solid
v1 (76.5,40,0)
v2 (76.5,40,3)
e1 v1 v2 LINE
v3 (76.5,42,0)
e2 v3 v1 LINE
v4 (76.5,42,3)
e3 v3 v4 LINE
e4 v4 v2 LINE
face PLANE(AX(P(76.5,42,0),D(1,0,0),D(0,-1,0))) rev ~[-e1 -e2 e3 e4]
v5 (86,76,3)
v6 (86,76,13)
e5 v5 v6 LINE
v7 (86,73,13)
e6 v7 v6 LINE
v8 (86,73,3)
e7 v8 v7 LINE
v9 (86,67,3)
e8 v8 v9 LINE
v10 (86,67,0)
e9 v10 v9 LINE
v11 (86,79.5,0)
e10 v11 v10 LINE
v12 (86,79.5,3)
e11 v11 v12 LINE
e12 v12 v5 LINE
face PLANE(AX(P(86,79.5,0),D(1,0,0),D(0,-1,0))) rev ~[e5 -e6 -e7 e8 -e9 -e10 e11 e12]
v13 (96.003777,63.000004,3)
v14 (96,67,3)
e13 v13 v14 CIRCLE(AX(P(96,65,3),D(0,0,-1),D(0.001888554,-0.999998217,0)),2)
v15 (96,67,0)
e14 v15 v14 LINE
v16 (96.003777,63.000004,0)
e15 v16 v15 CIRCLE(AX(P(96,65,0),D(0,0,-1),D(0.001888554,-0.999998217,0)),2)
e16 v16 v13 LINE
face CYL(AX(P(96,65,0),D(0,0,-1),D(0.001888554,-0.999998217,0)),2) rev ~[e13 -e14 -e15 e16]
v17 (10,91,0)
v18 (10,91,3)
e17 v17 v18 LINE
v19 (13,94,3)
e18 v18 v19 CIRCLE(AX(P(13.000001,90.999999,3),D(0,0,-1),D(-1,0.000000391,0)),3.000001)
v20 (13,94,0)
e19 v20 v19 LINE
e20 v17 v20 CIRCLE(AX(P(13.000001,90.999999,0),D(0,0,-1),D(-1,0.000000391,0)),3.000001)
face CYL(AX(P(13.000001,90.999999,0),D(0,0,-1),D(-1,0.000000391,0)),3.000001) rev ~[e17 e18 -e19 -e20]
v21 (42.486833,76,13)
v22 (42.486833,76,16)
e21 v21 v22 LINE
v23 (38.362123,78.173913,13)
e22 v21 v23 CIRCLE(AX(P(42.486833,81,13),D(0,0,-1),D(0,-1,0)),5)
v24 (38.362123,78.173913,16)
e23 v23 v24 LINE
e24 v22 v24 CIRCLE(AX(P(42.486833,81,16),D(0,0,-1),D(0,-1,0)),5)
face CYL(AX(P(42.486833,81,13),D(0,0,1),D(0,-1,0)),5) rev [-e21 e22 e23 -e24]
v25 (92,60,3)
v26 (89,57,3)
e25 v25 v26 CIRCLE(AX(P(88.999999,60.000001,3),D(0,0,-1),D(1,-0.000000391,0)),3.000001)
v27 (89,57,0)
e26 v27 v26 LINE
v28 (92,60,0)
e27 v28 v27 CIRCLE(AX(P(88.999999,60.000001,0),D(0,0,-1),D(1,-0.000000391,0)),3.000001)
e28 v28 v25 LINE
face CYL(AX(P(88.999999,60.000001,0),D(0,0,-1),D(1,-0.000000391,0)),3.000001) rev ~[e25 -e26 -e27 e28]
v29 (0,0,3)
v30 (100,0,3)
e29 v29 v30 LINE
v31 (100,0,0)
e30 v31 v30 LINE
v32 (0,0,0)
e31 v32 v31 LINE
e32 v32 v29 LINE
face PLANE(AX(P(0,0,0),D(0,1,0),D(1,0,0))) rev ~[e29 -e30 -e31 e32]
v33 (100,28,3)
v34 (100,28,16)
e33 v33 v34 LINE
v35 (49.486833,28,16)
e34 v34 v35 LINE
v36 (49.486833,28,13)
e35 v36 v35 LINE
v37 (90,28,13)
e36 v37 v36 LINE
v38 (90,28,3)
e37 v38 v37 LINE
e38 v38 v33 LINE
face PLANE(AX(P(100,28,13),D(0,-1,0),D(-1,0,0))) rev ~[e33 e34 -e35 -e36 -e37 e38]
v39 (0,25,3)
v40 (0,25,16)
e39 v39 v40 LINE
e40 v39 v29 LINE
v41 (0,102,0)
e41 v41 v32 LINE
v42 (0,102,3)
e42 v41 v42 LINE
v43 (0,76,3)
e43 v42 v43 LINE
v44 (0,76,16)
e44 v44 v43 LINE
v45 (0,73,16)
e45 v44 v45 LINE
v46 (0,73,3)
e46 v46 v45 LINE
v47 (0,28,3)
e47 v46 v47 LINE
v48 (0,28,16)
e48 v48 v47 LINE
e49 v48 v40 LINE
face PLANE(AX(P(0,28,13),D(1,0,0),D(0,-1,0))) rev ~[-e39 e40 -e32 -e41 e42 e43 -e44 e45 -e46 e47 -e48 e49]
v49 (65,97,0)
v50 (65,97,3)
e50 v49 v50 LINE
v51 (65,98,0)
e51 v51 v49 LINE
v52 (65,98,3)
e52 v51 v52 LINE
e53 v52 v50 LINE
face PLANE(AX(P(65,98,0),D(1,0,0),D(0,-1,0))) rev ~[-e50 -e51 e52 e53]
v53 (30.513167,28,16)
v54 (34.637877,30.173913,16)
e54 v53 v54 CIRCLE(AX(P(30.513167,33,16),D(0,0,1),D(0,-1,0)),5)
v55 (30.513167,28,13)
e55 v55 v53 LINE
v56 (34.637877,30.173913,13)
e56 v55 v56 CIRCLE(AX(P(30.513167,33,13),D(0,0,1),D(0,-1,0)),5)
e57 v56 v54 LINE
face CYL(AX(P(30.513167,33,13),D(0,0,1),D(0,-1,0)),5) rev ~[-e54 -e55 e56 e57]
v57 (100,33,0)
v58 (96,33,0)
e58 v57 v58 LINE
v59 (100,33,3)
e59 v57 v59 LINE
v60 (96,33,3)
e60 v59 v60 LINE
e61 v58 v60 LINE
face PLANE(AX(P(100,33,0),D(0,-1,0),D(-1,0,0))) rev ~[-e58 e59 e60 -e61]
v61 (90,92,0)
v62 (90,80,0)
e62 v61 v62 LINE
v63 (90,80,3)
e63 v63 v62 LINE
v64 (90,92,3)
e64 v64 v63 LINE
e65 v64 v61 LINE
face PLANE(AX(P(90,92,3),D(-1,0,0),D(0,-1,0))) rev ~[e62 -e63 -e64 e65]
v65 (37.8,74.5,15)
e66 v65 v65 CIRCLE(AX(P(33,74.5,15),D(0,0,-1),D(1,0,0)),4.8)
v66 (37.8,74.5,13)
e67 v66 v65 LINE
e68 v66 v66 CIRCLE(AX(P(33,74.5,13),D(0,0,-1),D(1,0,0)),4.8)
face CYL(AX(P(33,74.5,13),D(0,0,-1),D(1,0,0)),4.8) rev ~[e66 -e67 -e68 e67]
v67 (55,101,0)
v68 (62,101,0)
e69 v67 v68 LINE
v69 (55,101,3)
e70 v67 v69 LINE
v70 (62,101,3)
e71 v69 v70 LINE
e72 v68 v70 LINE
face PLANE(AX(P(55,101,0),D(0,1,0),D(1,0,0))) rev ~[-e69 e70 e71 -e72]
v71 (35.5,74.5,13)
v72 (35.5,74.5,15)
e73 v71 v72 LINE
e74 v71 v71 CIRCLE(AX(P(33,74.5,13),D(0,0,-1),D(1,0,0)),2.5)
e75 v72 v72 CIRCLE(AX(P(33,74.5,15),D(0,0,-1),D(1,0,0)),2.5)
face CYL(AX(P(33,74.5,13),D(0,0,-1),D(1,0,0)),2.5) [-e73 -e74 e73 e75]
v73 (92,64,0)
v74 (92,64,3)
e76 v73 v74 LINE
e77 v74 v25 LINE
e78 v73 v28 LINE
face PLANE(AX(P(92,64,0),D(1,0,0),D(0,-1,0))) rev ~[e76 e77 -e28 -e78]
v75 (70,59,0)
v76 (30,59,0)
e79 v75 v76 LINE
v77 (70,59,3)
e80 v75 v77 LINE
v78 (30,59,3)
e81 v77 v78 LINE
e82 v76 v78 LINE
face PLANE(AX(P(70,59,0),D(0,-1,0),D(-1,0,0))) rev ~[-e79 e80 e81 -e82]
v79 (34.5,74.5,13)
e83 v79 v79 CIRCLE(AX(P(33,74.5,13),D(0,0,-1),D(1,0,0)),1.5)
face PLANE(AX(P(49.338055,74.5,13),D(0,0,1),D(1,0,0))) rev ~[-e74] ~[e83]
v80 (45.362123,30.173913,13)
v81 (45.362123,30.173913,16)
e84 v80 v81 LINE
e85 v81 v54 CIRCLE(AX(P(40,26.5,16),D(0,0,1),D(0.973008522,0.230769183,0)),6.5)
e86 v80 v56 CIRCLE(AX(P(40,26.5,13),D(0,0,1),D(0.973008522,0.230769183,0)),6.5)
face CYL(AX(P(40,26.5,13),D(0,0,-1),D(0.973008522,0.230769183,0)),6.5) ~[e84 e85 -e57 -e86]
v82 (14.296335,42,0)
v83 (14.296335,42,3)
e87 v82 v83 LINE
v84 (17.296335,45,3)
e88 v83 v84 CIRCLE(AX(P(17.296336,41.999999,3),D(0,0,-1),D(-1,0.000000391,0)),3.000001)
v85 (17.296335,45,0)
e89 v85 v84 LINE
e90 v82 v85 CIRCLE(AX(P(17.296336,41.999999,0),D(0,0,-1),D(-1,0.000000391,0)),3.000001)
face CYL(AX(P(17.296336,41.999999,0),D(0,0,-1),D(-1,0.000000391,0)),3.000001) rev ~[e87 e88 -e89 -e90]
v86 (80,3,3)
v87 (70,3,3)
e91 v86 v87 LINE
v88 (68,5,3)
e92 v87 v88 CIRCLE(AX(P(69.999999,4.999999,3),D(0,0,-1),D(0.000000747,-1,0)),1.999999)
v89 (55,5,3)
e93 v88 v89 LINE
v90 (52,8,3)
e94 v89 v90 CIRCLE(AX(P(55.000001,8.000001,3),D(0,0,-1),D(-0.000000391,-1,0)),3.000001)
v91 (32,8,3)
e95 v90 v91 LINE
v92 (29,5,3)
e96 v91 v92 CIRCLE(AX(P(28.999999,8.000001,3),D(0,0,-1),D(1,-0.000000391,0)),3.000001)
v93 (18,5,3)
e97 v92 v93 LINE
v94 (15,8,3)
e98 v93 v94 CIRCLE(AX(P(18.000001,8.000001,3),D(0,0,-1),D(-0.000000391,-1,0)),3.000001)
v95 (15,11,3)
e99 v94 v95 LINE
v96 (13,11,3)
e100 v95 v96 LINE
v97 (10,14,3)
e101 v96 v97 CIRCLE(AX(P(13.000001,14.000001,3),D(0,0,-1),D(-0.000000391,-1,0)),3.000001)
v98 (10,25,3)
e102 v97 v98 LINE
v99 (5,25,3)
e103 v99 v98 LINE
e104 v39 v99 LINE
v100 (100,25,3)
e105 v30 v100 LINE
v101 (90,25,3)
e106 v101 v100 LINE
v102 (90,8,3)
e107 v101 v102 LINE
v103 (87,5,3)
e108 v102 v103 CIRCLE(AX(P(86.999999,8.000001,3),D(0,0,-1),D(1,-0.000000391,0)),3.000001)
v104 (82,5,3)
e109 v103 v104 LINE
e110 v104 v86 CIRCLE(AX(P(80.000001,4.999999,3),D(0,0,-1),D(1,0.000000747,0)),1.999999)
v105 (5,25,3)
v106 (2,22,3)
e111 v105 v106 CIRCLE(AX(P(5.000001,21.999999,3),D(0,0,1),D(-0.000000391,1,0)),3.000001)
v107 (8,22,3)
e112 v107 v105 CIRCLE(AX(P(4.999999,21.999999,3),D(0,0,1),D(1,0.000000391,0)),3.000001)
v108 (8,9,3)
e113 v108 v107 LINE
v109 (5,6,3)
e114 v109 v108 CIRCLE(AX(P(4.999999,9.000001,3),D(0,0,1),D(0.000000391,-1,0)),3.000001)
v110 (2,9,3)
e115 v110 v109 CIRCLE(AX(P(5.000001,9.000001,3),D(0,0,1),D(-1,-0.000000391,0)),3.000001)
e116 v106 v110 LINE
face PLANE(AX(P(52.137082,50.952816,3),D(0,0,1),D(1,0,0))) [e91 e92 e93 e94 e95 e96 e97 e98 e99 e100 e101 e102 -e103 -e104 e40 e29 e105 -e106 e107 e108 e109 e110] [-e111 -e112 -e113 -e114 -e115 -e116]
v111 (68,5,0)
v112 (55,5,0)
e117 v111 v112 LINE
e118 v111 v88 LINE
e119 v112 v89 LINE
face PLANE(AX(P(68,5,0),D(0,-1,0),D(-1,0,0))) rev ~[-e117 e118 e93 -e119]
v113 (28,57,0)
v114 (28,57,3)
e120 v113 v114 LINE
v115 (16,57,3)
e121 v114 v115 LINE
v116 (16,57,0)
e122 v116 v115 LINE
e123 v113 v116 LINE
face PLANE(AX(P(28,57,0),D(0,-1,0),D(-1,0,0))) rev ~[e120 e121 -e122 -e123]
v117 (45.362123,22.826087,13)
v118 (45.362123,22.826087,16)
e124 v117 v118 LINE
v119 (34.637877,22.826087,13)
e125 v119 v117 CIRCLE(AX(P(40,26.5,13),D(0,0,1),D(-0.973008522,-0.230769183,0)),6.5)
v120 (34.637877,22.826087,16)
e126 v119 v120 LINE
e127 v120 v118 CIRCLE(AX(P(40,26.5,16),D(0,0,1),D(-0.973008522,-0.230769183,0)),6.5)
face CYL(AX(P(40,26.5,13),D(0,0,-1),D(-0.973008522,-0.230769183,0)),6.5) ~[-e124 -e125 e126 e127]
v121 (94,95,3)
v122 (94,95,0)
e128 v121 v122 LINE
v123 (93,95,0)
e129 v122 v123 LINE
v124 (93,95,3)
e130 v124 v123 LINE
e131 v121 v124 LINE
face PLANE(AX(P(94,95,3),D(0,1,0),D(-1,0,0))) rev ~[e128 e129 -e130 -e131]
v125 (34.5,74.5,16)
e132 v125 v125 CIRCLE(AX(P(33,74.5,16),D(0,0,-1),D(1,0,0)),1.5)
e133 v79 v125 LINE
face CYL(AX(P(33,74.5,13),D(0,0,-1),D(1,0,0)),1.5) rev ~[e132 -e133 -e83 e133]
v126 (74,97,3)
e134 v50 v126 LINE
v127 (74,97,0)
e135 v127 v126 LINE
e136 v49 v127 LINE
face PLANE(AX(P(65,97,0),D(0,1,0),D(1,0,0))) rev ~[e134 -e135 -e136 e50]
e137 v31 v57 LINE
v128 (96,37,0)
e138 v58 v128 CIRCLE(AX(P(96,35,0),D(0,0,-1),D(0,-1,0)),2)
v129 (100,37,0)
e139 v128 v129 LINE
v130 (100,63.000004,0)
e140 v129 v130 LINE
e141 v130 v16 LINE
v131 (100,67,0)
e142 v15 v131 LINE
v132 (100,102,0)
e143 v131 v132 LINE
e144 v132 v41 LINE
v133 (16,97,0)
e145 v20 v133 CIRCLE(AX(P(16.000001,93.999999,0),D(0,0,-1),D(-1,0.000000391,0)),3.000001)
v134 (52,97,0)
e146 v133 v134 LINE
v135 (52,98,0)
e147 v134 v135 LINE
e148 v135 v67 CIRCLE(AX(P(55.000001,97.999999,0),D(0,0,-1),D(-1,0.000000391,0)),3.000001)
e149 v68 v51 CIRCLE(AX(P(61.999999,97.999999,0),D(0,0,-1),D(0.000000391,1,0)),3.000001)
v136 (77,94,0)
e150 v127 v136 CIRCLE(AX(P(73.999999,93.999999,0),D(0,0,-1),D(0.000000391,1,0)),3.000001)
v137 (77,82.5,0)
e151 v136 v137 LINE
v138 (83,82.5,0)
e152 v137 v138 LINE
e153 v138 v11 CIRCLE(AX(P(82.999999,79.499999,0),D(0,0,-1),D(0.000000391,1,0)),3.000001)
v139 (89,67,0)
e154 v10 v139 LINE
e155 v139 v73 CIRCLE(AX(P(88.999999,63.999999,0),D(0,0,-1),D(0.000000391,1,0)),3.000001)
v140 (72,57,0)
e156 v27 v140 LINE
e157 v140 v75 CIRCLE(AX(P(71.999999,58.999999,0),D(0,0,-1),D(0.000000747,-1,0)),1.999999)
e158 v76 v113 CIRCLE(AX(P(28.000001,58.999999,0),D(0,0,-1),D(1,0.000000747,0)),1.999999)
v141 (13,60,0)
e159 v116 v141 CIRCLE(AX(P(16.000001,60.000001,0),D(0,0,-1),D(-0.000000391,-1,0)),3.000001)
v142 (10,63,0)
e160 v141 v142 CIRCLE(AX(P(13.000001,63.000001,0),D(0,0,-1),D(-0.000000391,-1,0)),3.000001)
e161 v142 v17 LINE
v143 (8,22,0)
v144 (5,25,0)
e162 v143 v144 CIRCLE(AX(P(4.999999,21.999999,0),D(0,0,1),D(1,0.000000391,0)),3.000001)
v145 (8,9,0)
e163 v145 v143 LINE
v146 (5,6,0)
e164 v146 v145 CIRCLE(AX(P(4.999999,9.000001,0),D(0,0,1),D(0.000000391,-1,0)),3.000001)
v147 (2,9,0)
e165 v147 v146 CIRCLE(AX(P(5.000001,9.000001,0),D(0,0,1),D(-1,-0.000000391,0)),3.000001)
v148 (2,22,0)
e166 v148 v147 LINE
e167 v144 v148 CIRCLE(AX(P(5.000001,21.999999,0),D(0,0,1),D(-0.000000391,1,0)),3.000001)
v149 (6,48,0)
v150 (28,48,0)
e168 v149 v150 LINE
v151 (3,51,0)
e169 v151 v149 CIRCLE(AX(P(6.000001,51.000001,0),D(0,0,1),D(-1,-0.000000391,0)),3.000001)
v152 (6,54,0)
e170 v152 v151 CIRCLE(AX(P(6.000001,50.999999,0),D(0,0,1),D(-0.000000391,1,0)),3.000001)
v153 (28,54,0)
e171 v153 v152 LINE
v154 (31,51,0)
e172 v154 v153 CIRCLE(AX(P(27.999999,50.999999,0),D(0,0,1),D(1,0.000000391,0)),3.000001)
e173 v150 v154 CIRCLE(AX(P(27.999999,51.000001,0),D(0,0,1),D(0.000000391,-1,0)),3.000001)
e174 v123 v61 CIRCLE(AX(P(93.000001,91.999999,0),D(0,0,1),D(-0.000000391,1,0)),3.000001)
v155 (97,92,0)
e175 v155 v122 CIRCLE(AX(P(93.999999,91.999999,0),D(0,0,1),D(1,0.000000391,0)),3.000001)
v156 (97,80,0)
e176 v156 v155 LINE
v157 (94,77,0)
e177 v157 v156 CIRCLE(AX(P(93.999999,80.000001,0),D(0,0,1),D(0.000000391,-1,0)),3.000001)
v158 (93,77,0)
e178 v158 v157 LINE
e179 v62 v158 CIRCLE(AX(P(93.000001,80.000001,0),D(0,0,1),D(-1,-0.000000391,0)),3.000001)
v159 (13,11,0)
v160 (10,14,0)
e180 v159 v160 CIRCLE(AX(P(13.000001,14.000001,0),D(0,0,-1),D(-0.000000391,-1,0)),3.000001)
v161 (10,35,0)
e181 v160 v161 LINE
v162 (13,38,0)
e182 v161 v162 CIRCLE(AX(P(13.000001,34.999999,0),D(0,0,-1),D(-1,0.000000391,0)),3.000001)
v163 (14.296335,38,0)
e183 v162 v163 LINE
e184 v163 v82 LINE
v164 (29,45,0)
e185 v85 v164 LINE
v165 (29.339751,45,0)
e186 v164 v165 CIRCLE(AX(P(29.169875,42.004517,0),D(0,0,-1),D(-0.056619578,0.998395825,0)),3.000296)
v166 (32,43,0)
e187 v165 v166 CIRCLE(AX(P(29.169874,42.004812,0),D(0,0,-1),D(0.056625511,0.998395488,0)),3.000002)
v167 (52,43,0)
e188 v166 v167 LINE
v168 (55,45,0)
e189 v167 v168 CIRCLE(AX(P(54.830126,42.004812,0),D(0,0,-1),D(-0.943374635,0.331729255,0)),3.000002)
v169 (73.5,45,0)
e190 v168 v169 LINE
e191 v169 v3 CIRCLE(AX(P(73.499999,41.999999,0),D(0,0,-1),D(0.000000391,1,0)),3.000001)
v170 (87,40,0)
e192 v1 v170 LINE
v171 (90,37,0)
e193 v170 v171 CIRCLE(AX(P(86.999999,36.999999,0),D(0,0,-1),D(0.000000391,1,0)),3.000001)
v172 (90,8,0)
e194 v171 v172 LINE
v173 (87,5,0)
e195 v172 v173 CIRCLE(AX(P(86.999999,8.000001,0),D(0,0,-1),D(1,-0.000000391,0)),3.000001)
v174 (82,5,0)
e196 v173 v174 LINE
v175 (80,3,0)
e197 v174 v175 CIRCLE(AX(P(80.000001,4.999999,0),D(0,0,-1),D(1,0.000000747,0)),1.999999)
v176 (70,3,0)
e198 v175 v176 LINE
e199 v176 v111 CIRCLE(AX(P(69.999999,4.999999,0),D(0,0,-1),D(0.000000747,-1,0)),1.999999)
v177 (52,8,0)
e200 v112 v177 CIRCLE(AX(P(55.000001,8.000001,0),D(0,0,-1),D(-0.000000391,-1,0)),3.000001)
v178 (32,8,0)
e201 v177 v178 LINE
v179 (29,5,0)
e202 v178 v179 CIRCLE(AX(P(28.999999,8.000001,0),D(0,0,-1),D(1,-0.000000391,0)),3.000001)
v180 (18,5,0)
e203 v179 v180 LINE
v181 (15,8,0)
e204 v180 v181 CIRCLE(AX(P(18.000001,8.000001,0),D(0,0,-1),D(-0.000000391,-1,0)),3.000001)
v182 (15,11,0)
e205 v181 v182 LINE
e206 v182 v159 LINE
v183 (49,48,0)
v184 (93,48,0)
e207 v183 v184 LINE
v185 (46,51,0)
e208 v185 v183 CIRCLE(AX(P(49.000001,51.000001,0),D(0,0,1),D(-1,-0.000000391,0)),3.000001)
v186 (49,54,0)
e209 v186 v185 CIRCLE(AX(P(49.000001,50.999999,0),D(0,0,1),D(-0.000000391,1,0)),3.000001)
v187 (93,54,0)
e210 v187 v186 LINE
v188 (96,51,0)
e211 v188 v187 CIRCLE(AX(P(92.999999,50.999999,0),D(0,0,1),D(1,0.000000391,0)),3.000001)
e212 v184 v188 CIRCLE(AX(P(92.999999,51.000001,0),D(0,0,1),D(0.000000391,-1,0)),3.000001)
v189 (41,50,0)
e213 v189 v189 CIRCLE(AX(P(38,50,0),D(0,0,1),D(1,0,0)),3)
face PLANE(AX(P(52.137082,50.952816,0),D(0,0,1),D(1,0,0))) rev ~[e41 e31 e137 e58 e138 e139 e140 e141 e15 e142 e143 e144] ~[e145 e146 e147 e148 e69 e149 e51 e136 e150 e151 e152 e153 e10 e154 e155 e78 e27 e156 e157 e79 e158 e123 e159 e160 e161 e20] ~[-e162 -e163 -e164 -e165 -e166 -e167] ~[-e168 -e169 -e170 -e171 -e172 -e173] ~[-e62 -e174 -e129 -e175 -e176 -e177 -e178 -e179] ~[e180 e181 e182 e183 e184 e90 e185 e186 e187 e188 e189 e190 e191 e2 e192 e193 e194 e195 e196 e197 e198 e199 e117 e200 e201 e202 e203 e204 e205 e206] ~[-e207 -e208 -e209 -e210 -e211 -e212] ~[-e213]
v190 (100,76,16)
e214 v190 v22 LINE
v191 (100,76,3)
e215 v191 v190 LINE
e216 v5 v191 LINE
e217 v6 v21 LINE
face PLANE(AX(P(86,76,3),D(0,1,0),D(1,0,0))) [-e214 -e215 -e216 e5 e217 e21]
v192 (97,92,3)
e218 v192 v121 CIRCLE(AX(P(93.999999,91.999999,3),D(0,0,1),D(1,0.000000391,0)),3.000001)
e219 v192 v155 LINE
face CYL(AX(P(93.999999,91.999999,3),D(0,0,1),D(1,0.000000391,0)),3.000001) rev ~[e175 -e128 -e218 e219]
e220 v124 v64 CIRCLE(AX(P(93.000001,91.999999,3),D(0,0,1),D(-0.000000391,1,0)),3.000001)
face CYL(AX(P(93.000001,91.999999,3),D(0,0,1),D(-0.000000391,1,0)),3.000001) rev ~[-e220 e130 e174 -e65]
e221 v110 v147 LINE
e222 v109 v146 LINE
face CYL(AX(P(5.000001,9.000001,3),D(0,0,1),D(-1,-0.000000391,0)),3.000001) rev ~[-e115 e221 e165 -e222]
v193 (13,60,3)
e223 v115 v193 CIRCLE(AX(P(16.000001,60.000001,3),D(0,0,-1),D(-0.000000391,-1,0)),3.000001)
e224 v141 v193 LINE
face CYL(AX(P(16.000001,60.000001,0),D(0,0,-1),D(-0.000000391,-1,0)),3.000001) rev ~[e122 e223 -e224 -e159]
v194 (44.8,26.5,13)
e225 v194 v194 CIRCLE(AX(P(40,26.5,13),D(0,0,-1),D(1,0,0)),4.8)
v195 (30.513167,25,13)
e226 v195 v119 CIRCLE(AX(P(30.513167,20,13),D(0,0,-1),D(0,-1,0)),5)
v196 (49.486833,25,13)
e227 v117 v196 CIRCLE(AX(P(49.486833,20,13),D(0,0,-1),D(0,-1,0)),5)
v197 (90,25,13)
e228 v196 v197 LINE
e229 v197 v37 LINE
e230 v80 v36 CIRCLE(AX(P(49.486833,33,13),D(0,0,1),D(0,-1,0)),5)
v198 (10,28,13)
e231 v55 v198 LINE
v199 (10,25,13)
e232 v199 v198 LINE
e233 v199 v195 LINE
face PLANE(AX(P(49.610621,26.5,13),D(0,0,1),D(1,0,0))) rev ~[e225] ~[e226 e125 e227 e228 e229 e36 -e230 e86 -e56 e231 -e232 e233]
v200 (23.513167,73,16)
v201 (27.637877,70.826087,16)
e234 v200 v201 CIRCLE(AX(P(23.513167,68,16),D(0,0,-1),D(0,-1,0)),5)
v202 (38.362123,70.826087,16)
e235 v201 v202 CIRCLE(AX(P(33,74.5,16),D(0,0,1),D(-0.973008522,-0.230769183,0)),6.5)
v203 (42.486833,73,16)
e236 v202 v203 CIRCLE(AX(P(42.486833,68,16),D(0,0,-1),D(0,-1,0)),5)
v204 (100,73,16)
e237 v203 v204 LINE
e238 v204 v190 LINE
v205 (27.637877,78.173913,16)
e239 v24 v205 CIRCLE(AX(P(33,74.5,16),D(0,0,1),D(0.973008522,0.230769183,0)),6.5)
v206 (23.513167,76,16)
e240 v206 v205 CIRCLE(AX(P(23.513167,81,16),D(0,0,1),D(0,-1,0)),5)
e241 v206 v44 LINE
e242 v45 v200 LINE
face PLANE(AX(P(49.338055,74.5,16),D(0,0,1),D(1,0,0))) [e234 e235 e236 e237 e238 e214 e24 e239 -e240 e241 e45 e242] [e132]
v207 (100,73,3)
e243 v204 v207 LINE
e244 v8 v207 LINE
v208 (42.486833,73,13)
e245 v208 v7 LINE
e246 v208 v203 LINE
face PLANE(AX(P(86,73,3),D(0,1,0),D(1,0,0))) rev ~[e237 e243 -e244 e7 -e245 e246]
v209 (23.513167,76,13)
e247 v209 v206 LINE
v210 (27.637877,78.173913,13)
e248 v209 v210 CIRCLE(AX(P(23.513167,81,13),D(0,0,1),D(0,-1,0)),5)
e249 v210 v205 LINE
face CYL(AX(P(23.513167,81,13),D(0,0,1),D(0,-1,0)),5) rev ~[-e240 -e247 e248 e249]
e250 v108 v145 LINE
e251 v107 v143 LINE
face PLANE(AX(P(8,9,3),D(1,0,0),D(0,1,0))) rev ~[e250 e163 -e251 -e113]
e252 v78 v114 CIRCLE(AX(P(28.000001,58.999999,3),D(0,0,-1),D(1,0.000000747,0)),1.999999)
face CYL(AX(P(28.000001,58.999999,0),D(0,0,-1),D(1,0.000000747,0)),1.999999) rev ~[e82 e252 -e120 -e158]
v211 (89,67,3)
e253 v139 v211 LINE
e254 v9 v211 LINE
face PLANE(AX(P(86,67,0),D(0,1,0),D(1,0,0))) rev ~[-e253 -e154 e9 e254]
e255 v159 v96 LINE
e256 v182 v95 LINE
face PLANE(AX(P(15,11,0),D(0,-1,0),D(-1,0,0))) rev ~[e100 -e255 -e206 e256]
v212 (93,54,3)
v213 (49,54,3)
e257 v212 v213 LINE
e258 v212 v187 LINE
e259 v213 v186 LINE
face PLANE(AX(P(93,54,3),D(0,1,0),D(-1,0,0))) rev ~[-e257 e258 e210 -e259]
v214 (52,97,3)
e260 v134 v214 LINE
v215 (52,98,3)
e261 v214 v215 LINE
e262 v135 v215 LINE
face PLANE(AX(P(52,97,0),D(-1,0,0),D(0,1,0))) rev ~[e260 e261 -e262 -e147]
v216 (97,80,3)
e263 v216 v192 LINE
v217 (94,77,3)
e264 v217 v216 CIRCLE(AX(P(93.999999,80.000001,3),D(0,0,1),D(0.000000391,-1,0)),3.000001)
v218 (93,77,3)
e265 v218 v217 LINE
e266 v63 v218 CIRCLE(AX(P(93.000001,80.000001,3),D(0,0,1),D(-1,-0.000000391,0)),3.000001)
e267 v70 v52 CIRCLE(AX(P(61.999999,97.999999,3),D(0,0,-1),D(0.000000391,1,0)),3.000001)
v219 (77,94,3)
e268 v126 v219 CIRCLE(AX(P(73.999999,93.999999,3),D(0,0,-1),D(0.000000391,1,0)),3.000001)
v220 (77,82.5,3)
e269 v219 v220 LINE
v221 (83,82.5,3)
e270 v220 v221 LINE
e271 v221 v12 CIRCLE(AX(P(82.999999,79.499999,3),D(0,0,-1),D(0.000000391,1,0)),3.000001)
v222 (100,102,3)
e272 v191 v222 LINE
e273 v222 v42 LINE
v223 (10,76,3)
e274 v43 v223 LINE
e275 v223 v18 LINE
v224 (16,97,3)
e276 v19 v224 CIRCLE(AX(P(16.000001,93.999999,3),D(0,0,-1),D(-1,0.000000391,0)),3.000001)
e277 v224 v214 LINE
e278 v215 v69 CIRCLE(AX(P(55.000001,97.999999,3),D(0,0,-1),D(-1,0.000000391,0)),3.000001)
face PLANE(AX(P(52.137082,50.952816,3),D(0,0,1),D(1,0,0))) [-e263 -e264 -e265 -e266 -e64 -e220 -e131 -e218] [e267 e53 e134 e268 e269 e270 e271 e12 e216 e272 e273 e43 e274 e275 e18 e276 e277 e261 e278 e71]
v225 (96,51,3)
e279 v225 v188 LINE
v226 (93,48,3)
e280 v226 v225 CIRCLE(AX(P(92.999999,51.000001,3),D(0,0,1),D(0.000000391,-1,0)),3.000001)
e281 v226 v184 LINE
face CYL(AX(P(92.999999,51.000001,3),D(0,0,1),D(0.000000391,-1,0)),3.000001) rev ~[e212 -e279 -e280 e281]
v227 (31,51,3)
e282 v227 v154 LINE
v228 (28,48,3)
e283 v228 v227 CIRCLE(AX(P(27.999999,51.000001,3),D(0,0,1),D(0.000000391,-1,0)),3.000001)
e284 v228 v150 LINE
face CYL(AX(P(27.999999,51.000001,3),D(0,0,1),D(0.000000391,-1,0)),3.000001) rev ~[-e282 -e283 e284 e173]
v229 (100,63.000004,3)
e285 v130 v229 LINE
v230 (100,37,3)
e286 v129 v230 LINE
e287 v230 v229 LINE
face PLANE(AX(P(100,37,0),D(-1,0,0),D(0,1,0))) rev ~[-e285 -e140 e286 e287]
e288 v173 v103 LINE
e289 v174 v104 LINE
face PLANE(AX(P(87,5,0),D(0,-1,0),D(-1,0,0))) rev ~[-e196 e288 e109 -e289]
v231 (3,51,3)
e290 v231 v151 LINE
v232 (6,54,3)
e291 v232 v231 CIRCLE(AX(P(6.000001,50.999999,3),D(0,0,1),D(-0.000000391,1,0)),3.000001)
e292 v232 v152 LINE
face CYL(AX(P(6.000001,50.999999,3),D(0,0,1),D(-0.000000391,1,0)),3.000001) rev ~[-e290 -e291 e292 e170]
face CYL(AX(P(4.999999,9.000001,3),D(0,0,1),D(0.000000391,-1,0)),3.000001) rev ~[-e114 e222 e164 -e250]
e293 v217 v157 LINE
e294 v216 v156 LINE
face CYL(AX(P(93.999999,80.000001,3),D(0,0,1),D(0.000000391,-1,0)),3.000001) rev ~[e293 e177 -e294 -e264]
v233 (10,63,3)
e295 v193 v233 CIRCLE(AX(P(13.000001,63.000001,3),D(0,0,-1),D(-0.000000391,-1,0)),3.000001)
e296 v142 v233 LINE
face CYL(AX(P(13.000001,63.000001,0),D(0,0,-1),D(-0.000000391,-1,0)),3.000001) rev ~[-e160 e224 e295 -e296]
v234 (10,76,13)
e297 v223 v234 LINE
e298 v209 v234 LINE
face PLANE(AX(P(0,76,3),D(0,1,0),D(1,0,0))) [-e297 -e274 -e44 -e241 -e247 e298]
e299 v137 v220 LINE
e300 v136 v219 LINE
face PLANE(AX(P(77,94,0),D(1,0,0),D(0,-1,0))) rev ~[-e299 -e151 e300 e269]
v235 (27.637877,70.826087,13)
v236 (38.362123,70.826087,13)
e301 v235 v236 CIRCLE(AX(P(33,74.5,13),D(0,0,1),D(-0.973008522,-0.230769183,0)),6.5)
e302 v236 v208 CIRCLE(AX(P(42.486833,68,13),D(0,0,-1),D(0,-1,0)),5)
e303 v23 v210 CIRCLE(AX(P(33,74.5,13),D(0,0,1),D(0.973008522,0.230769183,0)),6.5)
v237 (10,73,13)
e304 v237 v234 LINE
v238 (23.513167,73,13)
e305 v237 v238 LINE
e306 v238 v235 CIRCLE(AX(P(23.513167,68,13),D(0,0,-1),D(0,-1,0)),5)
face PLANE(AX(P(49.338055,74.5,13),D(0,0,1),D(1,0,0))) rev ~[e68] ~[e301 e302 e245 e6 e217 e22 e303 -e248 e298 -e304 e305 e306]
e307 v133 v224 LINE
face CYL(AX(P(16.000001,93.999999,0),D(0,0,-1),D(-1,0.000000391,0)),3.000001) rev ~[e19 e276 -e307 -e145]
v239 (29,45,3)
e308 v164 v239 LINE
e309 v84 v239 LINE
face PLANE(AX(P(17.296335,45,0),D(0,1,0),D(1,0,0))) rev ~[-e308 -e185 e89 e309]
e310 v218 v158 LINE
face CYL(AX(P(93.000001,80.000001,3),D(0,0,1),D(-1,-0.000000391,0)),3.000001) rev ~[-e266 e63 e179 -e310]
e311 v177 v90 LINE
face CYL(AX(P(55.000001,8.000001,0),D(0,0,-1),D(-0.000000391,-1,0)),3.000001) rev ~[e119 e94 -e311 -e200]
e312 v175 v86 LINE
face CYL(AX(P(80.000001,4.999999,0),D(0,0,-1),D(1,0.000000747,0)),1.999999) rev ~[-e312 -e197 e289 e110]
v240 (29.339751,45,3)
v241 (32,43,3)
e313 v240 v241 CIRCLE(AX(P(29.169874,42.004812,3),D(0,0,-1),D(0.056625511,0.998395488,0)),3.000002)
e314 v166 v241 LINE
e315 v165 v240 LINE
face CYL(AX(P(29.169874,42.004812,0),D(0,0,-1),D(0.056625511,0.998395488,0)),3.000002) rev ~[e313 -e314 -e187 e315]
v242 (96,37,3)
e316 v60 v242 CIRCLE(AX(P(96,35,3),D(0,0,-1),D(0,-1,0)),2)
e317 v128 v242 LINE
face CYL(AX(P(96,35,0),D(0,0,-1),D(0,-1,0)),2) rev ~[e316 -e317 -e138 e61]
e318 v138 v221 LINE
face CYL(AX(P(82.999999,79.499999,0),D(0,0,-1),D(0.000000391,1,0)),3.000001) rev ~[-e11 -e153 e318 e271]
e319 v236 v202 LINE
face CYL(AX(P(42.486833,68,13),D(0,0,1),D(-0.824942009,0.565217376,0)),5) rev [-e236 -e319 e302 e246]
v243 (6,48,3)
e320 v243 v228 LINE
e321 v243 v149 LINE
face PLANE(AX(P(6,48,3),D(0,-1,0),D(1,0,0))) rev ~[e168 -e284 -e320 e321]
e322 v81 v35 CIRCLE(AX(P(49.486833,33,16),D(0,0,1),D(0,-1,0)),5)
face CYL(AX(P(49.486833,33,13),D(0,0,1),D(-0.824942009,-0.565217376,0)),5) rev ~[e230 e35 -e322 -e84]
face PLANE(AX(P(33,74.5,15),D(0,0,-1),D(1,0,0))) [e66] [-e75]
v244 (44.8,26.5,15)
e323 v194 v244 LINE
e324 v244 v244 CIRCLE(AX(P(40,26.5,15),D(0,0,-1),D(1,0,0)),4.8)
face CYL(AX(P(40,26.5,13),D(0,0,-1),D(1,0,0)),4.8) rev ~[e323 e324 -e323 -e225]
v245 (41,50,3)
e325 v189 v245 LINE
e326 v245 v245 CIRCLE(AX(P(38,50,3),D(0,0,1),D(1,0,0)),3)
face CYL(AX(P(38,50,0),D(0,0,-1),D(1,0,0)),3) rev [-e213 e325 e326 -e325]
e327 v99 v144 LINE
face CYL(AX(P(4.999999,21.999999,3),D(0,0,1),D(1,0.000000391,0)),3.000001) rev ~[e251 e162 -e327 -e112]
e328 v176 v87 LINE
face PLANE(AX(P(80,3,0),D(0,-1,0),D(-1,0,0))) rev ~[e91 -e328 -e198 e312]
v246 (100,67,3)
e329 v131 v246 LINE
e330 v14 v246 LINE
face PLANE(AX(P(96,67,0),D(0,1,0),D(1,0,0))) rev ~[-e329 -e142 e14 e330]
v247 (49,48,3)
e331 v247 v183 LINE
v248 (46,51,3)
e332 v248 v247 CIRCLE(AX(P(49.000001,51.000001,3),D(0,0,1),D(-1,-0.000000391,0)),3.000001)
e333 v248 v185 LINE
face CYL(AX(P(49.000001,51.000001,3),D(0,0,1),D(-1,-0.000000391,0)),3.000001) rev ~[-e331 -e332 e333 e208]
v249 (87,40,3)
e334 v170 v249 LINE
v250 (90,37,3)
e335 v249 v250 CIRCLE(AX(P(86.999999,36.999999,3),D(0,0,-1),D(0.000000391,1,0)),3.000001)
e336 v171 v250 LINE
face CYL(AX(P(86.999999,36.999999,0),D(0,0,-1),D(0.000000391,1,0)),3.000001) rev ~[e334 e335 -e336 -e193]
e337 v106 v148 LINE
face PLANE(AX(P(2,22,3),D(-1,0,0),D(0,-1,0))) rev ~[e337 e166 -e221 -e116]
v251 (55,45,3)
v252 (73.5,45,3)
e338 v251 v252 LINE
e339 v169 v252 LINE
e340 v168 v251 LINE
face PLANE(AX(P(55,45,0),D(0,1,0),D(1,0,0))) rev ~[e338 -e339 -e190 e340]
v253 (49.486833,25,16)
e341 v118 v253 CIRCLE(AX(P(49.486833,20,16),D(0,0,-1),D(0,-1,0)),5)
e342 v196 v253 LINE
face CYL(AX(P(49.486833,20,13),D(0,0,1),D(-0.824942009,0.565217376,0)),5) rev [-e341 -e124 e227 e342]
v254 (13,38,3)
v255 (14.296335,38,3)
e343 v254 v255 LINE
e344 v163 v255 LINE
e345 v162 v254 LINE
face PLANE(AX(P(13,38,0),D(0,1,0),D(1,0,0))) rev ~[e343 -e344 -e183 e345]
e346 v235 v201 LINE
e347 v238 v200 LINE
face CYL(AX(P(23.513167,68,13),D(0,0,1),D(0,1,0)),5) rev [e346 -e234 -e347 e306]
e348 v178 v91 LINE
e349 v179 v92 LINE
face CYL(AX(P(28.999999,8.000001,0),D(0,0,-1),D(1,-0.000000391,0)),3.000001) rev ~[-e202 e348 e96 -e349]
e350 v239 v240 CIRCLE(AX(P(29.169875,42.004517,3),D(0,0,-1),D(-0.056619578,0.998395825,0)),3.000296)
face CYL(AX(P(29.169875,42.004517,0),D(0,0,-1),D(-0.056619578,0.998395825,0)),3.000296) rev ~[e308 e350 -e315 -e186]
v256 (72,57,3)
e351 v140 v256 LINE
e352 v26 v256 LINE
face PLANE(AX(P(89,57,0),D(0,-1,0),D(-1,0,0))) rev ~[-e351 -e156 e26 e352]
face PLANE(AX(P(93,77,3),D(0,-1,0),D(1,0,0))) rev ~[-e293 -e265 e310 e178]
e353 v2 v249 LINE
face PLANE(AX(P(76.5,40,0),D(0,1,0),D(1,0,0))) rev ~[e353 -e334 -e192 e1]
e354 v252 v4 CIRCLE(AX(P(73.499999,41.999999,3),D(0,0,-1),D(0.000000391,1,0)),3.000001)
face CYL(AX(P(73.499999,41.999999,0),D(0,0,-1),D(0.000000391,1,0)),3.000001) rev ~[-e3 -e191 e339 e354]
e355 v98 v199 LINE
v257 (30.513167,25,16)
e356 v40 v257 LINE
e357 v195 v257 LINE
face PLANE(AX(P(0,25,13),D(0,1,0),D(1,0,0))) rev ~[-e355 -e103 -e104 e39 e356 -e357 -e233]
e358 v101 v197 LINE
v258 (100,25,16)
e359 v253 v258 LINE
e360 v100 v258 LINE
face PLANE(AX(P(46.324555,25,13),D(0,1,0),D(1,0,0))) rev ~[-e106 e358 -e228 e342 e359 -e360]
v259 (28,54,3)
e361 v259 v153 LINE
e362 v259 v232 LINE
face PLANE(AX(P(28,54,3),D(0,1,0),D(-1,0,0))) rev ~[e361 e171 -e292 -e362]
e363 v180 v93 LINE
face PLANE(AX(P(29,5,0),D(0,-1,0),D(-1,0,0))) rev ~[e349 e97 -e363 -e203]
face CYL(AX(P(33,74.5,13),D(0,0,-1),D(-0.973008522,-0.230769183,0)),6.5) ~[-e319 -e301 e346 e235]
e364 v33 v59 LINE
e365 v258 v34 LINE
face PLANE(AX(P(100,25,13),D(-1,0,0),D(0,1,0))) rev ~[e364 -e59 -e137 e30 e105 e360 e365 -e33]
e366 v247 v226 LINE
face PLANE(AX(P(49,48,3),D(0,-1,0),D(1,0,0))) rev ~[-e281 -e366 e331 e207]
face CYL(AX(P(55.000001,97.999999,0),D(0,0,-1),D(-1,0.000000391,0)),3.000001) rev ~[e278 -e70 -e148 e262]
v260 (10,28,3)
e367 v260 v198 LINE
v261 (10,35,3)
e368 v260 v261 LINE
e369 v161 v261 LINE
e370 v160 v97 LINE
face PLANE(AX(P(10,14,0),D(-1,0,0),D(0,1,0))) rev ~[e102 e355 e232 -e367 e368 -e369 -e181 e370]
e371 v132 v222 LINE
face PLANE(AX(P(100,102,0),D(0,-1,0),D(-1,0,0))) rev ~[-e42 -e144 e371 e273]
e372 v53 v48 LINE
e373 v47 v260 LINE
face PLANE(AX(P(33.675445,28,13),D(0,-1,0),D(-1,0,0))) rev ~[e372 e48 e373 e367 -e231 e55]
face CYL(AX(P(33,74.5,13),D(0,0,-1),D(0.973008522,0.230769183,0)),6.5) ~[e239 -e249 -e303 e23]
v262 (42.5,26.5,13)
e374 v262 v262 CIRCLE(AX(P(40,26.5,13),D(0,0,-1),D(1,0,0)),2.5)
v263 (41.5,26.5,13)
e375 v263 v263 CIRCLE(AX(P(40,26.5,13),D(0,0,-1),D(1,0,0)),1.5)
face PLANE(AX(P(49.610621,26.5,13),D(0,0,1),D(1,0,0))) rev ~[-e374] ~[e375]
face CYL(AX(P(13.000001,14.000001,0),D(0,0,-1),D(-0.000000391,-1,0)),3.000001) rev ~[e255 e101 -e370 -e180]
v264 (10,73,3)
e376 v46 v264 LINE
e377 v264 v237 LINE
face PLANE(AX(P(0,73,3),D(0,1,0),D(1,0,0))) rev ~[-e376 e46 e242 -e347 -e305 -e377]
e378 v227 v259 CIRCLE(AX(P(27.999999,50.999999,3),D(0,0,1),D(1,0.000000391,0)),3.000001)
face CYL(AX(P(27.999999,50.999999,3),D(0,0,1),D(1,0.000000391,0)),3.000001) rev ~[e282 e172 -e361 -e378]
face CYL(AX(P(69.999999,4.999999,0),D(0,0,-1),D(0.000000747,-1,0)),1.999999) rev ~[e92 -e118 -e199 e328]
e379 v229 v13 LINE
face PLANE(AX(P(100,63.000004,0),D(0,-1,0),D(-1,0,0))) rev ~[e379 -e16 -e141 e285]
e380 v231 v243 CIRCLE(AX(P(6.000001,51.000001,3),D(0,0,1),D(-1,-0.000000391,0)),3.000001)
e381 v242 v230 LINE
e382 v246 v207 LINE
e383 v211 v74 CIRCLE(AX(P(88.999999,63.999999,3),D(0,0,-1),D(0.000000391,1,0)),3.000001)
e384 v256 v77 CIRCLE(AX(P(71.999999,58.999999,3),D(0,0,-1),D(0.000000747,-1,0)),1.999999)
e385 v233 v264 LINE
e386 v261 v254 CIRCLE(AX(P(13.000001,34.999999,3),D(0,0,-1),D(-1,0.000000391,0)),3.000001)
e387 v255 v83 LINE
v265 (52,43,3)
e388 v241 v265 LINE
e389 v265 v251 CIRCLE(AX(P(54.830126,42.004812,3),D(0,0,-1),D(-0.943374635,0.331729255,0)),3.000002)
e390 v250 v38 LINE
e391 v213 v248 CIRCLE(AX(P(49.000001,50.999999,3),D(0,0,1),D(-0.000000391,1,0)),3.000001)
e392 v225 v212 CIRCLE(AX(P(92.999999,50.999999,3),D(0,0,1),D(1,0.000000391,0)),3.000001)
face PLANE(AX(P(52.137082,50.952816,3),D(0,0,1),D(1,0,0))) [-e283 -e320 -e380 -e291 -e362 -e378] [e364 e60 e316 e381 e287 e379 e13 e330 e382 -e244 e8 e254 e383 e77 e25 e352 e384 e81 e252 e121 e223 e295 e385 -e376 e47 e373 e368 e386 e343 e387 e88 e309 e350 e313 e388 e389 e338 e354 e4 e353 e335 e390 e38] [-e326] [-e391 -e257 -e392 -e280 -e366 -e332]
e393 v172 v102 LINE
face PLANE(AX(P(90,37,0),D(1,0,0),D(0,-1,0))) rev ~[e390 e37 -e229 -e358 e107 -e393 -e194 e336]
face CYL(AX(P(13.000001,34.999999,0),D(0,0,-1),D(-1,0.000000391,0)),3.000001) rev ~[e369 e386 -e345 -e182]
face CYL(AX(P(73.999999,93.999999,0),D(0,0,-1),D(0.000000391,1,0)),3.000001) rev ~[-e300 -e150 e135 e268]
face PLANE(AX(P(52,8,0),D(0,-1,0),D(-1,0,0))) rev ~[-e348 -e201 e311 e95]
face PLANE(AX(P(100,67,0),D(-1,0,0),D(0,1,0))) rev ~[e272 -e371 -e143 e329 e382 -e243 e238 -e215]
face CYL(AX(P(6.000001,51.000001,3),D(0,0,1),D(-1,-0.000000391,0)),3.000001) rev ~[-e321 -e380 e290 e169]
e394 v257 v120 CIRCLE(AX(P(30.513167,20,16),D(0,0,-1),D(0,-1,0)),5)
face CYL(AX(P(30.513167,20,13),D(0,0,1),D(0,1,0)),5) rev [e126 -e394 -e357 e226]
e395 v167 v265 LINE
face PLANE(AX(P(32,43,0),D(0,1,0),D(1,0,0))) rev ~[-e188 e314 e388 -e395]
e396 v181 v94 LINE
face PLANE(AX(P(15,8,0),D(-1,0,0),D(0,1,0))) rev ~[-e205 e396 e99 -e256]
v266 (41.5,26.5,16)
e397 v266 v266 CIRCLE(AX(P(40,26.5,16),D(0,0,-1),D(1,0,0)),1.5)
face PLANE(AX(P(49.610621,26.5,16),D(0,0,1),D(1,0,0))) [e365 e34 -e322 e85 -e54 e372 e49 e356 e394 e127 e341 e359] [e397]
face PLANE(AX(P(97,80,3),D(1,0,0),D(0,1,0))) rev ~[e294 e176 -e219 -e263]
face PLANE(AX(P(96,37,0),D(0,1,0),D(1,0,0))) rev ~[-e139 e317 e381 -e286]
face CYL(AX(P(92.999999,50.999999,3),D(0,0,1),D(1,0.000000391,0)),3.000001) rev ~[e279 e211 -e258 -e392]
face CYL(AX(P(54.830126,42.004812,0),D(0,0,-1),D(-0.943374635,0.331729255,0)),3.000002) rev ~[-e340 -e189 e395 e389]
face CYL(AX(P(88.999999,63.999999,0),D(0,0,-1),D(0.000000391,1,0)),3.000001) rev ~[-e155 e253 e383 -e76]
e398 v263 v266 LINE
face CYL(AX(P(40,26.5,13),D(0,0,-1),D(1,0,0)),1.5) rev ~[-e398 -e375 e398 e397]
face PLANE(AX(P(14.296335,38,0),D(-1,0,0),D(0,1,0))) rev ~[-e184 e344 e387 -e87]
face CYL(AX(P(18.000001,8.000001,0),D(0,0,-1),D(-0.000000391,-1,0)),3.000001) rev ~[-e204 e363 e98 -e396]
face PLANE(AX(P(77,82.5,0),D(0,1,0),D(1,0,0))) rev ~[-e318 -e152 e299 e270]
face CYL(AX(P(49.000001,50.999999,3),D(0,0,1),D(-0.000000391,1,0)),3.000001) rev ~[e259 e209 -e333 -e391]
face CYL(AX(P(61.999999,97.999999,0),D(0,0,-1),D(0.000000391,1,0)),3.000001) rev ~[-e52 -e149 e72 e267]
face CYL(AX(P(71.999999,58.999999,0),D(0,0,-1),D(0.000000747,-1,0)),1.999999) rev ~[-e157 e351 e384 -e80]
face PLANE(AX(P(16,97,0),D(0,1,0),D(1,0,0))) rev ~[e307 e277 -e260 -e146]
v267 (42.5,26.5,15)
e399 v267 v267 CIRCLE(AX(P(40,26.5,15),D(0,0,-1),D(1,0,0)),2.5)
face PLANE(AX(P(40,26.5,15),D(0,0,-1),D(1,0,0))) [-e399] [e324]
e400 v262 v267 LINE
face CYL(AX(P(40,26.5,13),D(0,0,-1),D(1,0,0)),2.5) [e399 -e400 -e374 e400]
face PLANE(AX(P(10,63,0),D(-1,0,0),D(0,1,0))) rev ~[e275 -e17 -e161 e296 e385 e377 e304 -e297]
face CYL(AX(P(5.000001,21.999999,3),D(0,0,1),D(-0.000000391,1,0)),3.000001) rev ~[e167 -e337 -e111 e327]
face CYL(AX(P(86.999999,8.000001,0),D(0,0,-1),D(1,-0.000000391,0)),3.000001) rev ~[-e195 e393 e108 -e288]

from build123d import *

# Parameters (mm, degrees)
F0_R      = 3
F1_DEPTH  = 3
F2_W      = 10
F2_H      = 3
F2_W_2    = 14
F3_DEPTH  = 10
F5_DEPTH  = 3
F6_R      = 4.8
F6_R_2    = 2.5
F7_DEPTH  = 2
F9_DEPTH  = 25
F10_R     = 5
F11_R     = 1.5
F12_DEPTH = 25


with BuildPart() as f1:
    # F0 (on Top) → F1 (new body)
    with BuildSketch(Plane.XY):
        with BuildLine():
            Line((0, 0), (3, 0))
            Line((3, 0), (97, 0))
            Line((97, 0), (100, 0))
            Line((100, 0), (100, 33))
            Line((100, 33), (96, 33))
            ThreePointArc((96, 33), (94, 35), (96, 37))
            Line((96, 37), (100, 37))
            Line((100, 37), (100, 63.000004))
            Line((100, 63.000004), (96.003777, 63.000004))
            ThreePointArc((96.003777, 63.000004), (94.000001, 64.998112), (96, 67))
            Line((96, 67), (100, 67))
            Line((100, 67), (100, 102))
            Line((100, 102), (97, 102))
            Line((97, 102), (3, 102))
            Line((3, 102), (0, 102))
            Line((0, 102), (0, 0))
        make_face()
        with Locations((38, 50)):
            Circle(F0_R, mode=Mode.SUBTRACT)
        with BuildLine():
            Line((10, 14), (10, 35))
            ThreePointArc((10, 35), (10.87868, 37.12132), (13, 38))
            Line((13, 38), (14.296335, 38))
            Line((14.296335, 38), (14.296335, 42))
            ThreePointArc((14.296335, 42), (15.175015, 44.12132), (17.296335, 45))
            Line((17.296335, 45), (26, 45))
            Line((26, 45), (29, 45))
            ThreePointArc((29, 45), (29.169876, 45.004813), (29.339751, 45))
            ThreePointArc((29.339751, 45), (30.972651, 44.402729), (32, 43))
            Line((32, 43), (52, 43))
            ThreePointArc((52, 43), (53.166024, 44.500964), (55, 45))
            Line((55, 45), (73.5, 45))
            ThreePointArc((73.5, 45), (75.62132, 44.12132), (76.5, 42))
            Line((76.5, 42), (76.5, 40))
            Line((76.5, 40), (87, 40))
            ThreePointArc((87, 40), (89.12132, 39.12132), (90, 37))
            Line((90, 37), (90, 35.75))
            Line((90, 35.75), (90, 16.5))
            Line((90, 16.5), (90, 8))
            ThreePointArc((90, 8), (89.12132, 5.87868), (87, 5))
            Line((87, 5), (82, 5))
            ThreePointArc((82, 5), (81.414214, 3.585786), (80, 3))
            Line((80, 3), (70, 3))
            ThreePointArc((70, 3), (68.585786, 3.585786), (68, 5))
            Line((68, 5), (55, 5))
            ThreePointArc((55, 5), (52.87868, 5.87868), (52, 8))
            Line((52, 8), (32, 8))
            ThreePointArc((32, 8), (31.12132, 5.87868), (29, 5))
            Line((29, 5), (24, 5))
            Line((24, 5), (18, 5))
            ThreePointArc((18, 5), (15.87868, 5.87868), (15, 8))
            Line((15, 8), (15, 11))
            Line((15, 11), (13, 11))
            ThreePointArc((13, 11), (10.87868, 11.87868), (10, 14))
        make_face(mode=Mode.SUBTRACT)
        with BuildLine():
            Line((16, 97), (26, 97))
            Line((26, 97), (52, 97))
            Line((52, 97), (52, 98))
            ThreePointArc((52, 98), (52.87868, 100.12132), (55, 101))
            Line((55, 101), (62, 101))
            ThreePointArc((62, 101), (64.12132, 100.12132), (65, 98))
            Line((65, 98), (65, 97))
            Line((65, 97), (74, 97))
            ThreePointArc((74, 97), (76.12132, 96.12132), (77, 94))
            Line((77, 94), (77, 88.5))
            Line((77, 88.5), (77, 82.5))
            Line((77, 82.5), (83, 82.5))
            ThreePointArc((83, 82.5), (85.12132, 81.62132), (86, 79.5))
            Line((86, 79.5), (86, 67))
            Line((86, 67), (89, 67))
            ThreePointArc((89, 67), (91.12132, 66.12132), (92, 64))
            Line((92, 64), (92, 60))
            ThreePointArc((92, 60), (91.12132, 57.87868), (89, 57))
            Line((89, 57), (72, 57))
            ThreePointArc((72, 57), (70.585786, 57.585786), (70, 59))
            Line((70, 59), (30, 59))
            ThreePointArc((30, 59), (29.414214, 57.585786), (28, 57))
            Line((28, 57), (23, 57))
            Line((23, 57), (16, 57))
            ThreePointArc((16, 57), (13.87868, 57.87868), (13, 60))
            ThreePointArc((13, 60), (10.87868, 60.87868), (10, 63))
            Line((10, 63), (10, 91))
            ThreePointArc((10, 91), (10.87868, 93.12132), (13, 94))
            ThreePointArc((13, 94), (13.87868, 96.12132), (16, 97))
        make_face(mode=Mode.SUBTRACT)
    extrude(amount=F1_DEPTH)

    # F2 (on face) → F3 (join)
    with BuildSketch(Plane.XY.offset(3)):
        with Locations((5, 26.5)):
            Rectangle(F2_W, F2_H)
        with Locations((95, 26.5)):
            Rectangle(F2_W, F2_H)
        with Locations((5, 74.5)):
            Rectangle(F2_W, F2_H)
        with Locations((93, 74.5)):
            Rectangle(F2_W_2, F2_H)
    extrude(amount=F3_DEPTH)

    # F4 (on face) → F5 (join)
    with BuildSketch(Plane.XY.offset(13)):
        with BuildLine():
            Line((0, 28), (0, 25))
            Line((0, 25), (33.675445, 25))
            ThreePointArc((33.675445, 25), (40, 20), (46.324555, 25))
            Line((46.324555, 25), (100, 25))
            Line((100, 25), (100, 28))
            Line((100, 28), (46.324555, 28))
            ThreePointArc((46.324555, 28), (40, 33), (33.675445, 28))
            Line((33.675445, 28), (0, 28))
        make_face()
        with BuildLine():
            Line((100, 73), (100, 76))
            Line((100, 76), (39.324555, 76))
            ThreePointArc((39.324555, 76), (33, 81), (26.675445, 76))
            Line((26.675445, 76), (0, 76))
            Line((0, 76), (0, 73))
            Line((0, 73), (26.675445, 73))
            ThreePointArc((26.675445, 73), (33, 68), (39.324555, 73))
            Line((39.324555, 73), (100, 73))
        make_face()
    extrude(amount=F5_DEPTH)

    # F6 (on face) → F7 (cut)
    with BuildSketch(Plane(origin=(0, 0, 13), x_dir=(1, 0, 0), z_dir=(0, 0, -1))):
        with Locations((40, -26.5)):
            Circle(F6_R)
        with Locations((40, -26.5)):
            Circle(F6_R_2, mode=Mode.SUBTRACT)
        with Locations((33, -74.5)):
            Circle(F6_R)
        with Locations((33, -74.5)):
            Circle(F6_R_2, mode=Mode.SUBTRACT)
    extrude(amount=-F7_DEPTH, mode=Mode.SUBTRACT)

    # F8 (on face) → F9 (cut)
    with BuildSketch(Plane.XY.offset(3)):
        with BuildLine():
            Line((93, 54), (49, 54))
            ThreePointArc((49, 54), (46.87868, 53.12132), (46, 51))
            ThreePointArc((46, 51), (46.87868, 48.87868), (49, 48))
            Line((49, 48), (93, 48))
            ThreePointArc((93, 48), (95.12132, 48.87868), (96, 51))
            ThreePointArc((96, 51), (95.12132, 53.12132), (93, 54))
        make_face()
        with BuildLine():
            ThreePointArc((90, 80), (90.87868, 77.87868), (93, 77))
            Line((93, 77), (94, 77))
            ThreePointArc((94, 77), (96.12132, 77.87868), (97, 80))
            Line((97, 80), (97, 92))
            ThreePointArc((97, 92), (96.12132, 94.12132), (94, 95))
            Line((94, 95), (93, 95))
            ThreePointArc((93, 95), (90.87868, 94.12132), (90, 92))
            Line((90, 92), (90, 80))
        make_face()
        with BuildLine():
            Line((2, 22), (2, 9))
            ThreePointArc((2, 9), (2.87868, 6.87868), (5, 6))
            ThreePointArc((5, 6), (7.12132, 6.87868), (8, 9))
            Line((8, 9), (8, 22))
            ThreePointArc((8, 22), (7.12132, 24.12132), (5, 25))
            ThreePointArc((5, 25), (2.87868, 24.12132), (2, 22))
        make_face()
        with BuildLine():
            ThreePointArc((31, 51), (30.12132, 53.12132), (28, 54))
            Line((28, 54), (6, 54))
            ThreePointArc((6, 54), (3.87868, 53.12132), (3, 51))
            ThreePointArc((3, 51), (3.87868, 48.87868), (6, 48))
            Line((6, 48), (28, 48))
            ThreePointArc((28, 48), (30.12132, 48.87868), (31, 51))
        make_face()
    extrude(amount=-F9_DEPTH, mode=Mode.SUBTRACT)

    # F10
    f10_edges = [f1.edges().sort_by_distance(p)[0] for p in [
        (33.675445, 25, 14.5),
        (46.324555, 25, 14.5),
        (46.324555, 28, 14.5),
        (39.324555, 76, 14.5),
        (33.675445, 28, 14.5),
        (26.675445, 76, 14.5),
        (26.675445, 73, 14.5),
        (39.324555, 73, 14.5),
    ]]
    fillet(f10_edges, radius=F10_R)

    # F11 (on face) → F12 (cut)
    with BuildSketch(Plane(origin=(0, 0, 13), x_dir=(1, 0, 0), z_dir=(0, 0, -1))):
        with Locations((40, -26.5)):
            Circle(F11_R)
        with Locations((33, -74.5)):
            Circle(F11_R)
    extrude(amount=-F12_DEPTH, mode=Mode.SUBTRACT)


solid = f1.part
